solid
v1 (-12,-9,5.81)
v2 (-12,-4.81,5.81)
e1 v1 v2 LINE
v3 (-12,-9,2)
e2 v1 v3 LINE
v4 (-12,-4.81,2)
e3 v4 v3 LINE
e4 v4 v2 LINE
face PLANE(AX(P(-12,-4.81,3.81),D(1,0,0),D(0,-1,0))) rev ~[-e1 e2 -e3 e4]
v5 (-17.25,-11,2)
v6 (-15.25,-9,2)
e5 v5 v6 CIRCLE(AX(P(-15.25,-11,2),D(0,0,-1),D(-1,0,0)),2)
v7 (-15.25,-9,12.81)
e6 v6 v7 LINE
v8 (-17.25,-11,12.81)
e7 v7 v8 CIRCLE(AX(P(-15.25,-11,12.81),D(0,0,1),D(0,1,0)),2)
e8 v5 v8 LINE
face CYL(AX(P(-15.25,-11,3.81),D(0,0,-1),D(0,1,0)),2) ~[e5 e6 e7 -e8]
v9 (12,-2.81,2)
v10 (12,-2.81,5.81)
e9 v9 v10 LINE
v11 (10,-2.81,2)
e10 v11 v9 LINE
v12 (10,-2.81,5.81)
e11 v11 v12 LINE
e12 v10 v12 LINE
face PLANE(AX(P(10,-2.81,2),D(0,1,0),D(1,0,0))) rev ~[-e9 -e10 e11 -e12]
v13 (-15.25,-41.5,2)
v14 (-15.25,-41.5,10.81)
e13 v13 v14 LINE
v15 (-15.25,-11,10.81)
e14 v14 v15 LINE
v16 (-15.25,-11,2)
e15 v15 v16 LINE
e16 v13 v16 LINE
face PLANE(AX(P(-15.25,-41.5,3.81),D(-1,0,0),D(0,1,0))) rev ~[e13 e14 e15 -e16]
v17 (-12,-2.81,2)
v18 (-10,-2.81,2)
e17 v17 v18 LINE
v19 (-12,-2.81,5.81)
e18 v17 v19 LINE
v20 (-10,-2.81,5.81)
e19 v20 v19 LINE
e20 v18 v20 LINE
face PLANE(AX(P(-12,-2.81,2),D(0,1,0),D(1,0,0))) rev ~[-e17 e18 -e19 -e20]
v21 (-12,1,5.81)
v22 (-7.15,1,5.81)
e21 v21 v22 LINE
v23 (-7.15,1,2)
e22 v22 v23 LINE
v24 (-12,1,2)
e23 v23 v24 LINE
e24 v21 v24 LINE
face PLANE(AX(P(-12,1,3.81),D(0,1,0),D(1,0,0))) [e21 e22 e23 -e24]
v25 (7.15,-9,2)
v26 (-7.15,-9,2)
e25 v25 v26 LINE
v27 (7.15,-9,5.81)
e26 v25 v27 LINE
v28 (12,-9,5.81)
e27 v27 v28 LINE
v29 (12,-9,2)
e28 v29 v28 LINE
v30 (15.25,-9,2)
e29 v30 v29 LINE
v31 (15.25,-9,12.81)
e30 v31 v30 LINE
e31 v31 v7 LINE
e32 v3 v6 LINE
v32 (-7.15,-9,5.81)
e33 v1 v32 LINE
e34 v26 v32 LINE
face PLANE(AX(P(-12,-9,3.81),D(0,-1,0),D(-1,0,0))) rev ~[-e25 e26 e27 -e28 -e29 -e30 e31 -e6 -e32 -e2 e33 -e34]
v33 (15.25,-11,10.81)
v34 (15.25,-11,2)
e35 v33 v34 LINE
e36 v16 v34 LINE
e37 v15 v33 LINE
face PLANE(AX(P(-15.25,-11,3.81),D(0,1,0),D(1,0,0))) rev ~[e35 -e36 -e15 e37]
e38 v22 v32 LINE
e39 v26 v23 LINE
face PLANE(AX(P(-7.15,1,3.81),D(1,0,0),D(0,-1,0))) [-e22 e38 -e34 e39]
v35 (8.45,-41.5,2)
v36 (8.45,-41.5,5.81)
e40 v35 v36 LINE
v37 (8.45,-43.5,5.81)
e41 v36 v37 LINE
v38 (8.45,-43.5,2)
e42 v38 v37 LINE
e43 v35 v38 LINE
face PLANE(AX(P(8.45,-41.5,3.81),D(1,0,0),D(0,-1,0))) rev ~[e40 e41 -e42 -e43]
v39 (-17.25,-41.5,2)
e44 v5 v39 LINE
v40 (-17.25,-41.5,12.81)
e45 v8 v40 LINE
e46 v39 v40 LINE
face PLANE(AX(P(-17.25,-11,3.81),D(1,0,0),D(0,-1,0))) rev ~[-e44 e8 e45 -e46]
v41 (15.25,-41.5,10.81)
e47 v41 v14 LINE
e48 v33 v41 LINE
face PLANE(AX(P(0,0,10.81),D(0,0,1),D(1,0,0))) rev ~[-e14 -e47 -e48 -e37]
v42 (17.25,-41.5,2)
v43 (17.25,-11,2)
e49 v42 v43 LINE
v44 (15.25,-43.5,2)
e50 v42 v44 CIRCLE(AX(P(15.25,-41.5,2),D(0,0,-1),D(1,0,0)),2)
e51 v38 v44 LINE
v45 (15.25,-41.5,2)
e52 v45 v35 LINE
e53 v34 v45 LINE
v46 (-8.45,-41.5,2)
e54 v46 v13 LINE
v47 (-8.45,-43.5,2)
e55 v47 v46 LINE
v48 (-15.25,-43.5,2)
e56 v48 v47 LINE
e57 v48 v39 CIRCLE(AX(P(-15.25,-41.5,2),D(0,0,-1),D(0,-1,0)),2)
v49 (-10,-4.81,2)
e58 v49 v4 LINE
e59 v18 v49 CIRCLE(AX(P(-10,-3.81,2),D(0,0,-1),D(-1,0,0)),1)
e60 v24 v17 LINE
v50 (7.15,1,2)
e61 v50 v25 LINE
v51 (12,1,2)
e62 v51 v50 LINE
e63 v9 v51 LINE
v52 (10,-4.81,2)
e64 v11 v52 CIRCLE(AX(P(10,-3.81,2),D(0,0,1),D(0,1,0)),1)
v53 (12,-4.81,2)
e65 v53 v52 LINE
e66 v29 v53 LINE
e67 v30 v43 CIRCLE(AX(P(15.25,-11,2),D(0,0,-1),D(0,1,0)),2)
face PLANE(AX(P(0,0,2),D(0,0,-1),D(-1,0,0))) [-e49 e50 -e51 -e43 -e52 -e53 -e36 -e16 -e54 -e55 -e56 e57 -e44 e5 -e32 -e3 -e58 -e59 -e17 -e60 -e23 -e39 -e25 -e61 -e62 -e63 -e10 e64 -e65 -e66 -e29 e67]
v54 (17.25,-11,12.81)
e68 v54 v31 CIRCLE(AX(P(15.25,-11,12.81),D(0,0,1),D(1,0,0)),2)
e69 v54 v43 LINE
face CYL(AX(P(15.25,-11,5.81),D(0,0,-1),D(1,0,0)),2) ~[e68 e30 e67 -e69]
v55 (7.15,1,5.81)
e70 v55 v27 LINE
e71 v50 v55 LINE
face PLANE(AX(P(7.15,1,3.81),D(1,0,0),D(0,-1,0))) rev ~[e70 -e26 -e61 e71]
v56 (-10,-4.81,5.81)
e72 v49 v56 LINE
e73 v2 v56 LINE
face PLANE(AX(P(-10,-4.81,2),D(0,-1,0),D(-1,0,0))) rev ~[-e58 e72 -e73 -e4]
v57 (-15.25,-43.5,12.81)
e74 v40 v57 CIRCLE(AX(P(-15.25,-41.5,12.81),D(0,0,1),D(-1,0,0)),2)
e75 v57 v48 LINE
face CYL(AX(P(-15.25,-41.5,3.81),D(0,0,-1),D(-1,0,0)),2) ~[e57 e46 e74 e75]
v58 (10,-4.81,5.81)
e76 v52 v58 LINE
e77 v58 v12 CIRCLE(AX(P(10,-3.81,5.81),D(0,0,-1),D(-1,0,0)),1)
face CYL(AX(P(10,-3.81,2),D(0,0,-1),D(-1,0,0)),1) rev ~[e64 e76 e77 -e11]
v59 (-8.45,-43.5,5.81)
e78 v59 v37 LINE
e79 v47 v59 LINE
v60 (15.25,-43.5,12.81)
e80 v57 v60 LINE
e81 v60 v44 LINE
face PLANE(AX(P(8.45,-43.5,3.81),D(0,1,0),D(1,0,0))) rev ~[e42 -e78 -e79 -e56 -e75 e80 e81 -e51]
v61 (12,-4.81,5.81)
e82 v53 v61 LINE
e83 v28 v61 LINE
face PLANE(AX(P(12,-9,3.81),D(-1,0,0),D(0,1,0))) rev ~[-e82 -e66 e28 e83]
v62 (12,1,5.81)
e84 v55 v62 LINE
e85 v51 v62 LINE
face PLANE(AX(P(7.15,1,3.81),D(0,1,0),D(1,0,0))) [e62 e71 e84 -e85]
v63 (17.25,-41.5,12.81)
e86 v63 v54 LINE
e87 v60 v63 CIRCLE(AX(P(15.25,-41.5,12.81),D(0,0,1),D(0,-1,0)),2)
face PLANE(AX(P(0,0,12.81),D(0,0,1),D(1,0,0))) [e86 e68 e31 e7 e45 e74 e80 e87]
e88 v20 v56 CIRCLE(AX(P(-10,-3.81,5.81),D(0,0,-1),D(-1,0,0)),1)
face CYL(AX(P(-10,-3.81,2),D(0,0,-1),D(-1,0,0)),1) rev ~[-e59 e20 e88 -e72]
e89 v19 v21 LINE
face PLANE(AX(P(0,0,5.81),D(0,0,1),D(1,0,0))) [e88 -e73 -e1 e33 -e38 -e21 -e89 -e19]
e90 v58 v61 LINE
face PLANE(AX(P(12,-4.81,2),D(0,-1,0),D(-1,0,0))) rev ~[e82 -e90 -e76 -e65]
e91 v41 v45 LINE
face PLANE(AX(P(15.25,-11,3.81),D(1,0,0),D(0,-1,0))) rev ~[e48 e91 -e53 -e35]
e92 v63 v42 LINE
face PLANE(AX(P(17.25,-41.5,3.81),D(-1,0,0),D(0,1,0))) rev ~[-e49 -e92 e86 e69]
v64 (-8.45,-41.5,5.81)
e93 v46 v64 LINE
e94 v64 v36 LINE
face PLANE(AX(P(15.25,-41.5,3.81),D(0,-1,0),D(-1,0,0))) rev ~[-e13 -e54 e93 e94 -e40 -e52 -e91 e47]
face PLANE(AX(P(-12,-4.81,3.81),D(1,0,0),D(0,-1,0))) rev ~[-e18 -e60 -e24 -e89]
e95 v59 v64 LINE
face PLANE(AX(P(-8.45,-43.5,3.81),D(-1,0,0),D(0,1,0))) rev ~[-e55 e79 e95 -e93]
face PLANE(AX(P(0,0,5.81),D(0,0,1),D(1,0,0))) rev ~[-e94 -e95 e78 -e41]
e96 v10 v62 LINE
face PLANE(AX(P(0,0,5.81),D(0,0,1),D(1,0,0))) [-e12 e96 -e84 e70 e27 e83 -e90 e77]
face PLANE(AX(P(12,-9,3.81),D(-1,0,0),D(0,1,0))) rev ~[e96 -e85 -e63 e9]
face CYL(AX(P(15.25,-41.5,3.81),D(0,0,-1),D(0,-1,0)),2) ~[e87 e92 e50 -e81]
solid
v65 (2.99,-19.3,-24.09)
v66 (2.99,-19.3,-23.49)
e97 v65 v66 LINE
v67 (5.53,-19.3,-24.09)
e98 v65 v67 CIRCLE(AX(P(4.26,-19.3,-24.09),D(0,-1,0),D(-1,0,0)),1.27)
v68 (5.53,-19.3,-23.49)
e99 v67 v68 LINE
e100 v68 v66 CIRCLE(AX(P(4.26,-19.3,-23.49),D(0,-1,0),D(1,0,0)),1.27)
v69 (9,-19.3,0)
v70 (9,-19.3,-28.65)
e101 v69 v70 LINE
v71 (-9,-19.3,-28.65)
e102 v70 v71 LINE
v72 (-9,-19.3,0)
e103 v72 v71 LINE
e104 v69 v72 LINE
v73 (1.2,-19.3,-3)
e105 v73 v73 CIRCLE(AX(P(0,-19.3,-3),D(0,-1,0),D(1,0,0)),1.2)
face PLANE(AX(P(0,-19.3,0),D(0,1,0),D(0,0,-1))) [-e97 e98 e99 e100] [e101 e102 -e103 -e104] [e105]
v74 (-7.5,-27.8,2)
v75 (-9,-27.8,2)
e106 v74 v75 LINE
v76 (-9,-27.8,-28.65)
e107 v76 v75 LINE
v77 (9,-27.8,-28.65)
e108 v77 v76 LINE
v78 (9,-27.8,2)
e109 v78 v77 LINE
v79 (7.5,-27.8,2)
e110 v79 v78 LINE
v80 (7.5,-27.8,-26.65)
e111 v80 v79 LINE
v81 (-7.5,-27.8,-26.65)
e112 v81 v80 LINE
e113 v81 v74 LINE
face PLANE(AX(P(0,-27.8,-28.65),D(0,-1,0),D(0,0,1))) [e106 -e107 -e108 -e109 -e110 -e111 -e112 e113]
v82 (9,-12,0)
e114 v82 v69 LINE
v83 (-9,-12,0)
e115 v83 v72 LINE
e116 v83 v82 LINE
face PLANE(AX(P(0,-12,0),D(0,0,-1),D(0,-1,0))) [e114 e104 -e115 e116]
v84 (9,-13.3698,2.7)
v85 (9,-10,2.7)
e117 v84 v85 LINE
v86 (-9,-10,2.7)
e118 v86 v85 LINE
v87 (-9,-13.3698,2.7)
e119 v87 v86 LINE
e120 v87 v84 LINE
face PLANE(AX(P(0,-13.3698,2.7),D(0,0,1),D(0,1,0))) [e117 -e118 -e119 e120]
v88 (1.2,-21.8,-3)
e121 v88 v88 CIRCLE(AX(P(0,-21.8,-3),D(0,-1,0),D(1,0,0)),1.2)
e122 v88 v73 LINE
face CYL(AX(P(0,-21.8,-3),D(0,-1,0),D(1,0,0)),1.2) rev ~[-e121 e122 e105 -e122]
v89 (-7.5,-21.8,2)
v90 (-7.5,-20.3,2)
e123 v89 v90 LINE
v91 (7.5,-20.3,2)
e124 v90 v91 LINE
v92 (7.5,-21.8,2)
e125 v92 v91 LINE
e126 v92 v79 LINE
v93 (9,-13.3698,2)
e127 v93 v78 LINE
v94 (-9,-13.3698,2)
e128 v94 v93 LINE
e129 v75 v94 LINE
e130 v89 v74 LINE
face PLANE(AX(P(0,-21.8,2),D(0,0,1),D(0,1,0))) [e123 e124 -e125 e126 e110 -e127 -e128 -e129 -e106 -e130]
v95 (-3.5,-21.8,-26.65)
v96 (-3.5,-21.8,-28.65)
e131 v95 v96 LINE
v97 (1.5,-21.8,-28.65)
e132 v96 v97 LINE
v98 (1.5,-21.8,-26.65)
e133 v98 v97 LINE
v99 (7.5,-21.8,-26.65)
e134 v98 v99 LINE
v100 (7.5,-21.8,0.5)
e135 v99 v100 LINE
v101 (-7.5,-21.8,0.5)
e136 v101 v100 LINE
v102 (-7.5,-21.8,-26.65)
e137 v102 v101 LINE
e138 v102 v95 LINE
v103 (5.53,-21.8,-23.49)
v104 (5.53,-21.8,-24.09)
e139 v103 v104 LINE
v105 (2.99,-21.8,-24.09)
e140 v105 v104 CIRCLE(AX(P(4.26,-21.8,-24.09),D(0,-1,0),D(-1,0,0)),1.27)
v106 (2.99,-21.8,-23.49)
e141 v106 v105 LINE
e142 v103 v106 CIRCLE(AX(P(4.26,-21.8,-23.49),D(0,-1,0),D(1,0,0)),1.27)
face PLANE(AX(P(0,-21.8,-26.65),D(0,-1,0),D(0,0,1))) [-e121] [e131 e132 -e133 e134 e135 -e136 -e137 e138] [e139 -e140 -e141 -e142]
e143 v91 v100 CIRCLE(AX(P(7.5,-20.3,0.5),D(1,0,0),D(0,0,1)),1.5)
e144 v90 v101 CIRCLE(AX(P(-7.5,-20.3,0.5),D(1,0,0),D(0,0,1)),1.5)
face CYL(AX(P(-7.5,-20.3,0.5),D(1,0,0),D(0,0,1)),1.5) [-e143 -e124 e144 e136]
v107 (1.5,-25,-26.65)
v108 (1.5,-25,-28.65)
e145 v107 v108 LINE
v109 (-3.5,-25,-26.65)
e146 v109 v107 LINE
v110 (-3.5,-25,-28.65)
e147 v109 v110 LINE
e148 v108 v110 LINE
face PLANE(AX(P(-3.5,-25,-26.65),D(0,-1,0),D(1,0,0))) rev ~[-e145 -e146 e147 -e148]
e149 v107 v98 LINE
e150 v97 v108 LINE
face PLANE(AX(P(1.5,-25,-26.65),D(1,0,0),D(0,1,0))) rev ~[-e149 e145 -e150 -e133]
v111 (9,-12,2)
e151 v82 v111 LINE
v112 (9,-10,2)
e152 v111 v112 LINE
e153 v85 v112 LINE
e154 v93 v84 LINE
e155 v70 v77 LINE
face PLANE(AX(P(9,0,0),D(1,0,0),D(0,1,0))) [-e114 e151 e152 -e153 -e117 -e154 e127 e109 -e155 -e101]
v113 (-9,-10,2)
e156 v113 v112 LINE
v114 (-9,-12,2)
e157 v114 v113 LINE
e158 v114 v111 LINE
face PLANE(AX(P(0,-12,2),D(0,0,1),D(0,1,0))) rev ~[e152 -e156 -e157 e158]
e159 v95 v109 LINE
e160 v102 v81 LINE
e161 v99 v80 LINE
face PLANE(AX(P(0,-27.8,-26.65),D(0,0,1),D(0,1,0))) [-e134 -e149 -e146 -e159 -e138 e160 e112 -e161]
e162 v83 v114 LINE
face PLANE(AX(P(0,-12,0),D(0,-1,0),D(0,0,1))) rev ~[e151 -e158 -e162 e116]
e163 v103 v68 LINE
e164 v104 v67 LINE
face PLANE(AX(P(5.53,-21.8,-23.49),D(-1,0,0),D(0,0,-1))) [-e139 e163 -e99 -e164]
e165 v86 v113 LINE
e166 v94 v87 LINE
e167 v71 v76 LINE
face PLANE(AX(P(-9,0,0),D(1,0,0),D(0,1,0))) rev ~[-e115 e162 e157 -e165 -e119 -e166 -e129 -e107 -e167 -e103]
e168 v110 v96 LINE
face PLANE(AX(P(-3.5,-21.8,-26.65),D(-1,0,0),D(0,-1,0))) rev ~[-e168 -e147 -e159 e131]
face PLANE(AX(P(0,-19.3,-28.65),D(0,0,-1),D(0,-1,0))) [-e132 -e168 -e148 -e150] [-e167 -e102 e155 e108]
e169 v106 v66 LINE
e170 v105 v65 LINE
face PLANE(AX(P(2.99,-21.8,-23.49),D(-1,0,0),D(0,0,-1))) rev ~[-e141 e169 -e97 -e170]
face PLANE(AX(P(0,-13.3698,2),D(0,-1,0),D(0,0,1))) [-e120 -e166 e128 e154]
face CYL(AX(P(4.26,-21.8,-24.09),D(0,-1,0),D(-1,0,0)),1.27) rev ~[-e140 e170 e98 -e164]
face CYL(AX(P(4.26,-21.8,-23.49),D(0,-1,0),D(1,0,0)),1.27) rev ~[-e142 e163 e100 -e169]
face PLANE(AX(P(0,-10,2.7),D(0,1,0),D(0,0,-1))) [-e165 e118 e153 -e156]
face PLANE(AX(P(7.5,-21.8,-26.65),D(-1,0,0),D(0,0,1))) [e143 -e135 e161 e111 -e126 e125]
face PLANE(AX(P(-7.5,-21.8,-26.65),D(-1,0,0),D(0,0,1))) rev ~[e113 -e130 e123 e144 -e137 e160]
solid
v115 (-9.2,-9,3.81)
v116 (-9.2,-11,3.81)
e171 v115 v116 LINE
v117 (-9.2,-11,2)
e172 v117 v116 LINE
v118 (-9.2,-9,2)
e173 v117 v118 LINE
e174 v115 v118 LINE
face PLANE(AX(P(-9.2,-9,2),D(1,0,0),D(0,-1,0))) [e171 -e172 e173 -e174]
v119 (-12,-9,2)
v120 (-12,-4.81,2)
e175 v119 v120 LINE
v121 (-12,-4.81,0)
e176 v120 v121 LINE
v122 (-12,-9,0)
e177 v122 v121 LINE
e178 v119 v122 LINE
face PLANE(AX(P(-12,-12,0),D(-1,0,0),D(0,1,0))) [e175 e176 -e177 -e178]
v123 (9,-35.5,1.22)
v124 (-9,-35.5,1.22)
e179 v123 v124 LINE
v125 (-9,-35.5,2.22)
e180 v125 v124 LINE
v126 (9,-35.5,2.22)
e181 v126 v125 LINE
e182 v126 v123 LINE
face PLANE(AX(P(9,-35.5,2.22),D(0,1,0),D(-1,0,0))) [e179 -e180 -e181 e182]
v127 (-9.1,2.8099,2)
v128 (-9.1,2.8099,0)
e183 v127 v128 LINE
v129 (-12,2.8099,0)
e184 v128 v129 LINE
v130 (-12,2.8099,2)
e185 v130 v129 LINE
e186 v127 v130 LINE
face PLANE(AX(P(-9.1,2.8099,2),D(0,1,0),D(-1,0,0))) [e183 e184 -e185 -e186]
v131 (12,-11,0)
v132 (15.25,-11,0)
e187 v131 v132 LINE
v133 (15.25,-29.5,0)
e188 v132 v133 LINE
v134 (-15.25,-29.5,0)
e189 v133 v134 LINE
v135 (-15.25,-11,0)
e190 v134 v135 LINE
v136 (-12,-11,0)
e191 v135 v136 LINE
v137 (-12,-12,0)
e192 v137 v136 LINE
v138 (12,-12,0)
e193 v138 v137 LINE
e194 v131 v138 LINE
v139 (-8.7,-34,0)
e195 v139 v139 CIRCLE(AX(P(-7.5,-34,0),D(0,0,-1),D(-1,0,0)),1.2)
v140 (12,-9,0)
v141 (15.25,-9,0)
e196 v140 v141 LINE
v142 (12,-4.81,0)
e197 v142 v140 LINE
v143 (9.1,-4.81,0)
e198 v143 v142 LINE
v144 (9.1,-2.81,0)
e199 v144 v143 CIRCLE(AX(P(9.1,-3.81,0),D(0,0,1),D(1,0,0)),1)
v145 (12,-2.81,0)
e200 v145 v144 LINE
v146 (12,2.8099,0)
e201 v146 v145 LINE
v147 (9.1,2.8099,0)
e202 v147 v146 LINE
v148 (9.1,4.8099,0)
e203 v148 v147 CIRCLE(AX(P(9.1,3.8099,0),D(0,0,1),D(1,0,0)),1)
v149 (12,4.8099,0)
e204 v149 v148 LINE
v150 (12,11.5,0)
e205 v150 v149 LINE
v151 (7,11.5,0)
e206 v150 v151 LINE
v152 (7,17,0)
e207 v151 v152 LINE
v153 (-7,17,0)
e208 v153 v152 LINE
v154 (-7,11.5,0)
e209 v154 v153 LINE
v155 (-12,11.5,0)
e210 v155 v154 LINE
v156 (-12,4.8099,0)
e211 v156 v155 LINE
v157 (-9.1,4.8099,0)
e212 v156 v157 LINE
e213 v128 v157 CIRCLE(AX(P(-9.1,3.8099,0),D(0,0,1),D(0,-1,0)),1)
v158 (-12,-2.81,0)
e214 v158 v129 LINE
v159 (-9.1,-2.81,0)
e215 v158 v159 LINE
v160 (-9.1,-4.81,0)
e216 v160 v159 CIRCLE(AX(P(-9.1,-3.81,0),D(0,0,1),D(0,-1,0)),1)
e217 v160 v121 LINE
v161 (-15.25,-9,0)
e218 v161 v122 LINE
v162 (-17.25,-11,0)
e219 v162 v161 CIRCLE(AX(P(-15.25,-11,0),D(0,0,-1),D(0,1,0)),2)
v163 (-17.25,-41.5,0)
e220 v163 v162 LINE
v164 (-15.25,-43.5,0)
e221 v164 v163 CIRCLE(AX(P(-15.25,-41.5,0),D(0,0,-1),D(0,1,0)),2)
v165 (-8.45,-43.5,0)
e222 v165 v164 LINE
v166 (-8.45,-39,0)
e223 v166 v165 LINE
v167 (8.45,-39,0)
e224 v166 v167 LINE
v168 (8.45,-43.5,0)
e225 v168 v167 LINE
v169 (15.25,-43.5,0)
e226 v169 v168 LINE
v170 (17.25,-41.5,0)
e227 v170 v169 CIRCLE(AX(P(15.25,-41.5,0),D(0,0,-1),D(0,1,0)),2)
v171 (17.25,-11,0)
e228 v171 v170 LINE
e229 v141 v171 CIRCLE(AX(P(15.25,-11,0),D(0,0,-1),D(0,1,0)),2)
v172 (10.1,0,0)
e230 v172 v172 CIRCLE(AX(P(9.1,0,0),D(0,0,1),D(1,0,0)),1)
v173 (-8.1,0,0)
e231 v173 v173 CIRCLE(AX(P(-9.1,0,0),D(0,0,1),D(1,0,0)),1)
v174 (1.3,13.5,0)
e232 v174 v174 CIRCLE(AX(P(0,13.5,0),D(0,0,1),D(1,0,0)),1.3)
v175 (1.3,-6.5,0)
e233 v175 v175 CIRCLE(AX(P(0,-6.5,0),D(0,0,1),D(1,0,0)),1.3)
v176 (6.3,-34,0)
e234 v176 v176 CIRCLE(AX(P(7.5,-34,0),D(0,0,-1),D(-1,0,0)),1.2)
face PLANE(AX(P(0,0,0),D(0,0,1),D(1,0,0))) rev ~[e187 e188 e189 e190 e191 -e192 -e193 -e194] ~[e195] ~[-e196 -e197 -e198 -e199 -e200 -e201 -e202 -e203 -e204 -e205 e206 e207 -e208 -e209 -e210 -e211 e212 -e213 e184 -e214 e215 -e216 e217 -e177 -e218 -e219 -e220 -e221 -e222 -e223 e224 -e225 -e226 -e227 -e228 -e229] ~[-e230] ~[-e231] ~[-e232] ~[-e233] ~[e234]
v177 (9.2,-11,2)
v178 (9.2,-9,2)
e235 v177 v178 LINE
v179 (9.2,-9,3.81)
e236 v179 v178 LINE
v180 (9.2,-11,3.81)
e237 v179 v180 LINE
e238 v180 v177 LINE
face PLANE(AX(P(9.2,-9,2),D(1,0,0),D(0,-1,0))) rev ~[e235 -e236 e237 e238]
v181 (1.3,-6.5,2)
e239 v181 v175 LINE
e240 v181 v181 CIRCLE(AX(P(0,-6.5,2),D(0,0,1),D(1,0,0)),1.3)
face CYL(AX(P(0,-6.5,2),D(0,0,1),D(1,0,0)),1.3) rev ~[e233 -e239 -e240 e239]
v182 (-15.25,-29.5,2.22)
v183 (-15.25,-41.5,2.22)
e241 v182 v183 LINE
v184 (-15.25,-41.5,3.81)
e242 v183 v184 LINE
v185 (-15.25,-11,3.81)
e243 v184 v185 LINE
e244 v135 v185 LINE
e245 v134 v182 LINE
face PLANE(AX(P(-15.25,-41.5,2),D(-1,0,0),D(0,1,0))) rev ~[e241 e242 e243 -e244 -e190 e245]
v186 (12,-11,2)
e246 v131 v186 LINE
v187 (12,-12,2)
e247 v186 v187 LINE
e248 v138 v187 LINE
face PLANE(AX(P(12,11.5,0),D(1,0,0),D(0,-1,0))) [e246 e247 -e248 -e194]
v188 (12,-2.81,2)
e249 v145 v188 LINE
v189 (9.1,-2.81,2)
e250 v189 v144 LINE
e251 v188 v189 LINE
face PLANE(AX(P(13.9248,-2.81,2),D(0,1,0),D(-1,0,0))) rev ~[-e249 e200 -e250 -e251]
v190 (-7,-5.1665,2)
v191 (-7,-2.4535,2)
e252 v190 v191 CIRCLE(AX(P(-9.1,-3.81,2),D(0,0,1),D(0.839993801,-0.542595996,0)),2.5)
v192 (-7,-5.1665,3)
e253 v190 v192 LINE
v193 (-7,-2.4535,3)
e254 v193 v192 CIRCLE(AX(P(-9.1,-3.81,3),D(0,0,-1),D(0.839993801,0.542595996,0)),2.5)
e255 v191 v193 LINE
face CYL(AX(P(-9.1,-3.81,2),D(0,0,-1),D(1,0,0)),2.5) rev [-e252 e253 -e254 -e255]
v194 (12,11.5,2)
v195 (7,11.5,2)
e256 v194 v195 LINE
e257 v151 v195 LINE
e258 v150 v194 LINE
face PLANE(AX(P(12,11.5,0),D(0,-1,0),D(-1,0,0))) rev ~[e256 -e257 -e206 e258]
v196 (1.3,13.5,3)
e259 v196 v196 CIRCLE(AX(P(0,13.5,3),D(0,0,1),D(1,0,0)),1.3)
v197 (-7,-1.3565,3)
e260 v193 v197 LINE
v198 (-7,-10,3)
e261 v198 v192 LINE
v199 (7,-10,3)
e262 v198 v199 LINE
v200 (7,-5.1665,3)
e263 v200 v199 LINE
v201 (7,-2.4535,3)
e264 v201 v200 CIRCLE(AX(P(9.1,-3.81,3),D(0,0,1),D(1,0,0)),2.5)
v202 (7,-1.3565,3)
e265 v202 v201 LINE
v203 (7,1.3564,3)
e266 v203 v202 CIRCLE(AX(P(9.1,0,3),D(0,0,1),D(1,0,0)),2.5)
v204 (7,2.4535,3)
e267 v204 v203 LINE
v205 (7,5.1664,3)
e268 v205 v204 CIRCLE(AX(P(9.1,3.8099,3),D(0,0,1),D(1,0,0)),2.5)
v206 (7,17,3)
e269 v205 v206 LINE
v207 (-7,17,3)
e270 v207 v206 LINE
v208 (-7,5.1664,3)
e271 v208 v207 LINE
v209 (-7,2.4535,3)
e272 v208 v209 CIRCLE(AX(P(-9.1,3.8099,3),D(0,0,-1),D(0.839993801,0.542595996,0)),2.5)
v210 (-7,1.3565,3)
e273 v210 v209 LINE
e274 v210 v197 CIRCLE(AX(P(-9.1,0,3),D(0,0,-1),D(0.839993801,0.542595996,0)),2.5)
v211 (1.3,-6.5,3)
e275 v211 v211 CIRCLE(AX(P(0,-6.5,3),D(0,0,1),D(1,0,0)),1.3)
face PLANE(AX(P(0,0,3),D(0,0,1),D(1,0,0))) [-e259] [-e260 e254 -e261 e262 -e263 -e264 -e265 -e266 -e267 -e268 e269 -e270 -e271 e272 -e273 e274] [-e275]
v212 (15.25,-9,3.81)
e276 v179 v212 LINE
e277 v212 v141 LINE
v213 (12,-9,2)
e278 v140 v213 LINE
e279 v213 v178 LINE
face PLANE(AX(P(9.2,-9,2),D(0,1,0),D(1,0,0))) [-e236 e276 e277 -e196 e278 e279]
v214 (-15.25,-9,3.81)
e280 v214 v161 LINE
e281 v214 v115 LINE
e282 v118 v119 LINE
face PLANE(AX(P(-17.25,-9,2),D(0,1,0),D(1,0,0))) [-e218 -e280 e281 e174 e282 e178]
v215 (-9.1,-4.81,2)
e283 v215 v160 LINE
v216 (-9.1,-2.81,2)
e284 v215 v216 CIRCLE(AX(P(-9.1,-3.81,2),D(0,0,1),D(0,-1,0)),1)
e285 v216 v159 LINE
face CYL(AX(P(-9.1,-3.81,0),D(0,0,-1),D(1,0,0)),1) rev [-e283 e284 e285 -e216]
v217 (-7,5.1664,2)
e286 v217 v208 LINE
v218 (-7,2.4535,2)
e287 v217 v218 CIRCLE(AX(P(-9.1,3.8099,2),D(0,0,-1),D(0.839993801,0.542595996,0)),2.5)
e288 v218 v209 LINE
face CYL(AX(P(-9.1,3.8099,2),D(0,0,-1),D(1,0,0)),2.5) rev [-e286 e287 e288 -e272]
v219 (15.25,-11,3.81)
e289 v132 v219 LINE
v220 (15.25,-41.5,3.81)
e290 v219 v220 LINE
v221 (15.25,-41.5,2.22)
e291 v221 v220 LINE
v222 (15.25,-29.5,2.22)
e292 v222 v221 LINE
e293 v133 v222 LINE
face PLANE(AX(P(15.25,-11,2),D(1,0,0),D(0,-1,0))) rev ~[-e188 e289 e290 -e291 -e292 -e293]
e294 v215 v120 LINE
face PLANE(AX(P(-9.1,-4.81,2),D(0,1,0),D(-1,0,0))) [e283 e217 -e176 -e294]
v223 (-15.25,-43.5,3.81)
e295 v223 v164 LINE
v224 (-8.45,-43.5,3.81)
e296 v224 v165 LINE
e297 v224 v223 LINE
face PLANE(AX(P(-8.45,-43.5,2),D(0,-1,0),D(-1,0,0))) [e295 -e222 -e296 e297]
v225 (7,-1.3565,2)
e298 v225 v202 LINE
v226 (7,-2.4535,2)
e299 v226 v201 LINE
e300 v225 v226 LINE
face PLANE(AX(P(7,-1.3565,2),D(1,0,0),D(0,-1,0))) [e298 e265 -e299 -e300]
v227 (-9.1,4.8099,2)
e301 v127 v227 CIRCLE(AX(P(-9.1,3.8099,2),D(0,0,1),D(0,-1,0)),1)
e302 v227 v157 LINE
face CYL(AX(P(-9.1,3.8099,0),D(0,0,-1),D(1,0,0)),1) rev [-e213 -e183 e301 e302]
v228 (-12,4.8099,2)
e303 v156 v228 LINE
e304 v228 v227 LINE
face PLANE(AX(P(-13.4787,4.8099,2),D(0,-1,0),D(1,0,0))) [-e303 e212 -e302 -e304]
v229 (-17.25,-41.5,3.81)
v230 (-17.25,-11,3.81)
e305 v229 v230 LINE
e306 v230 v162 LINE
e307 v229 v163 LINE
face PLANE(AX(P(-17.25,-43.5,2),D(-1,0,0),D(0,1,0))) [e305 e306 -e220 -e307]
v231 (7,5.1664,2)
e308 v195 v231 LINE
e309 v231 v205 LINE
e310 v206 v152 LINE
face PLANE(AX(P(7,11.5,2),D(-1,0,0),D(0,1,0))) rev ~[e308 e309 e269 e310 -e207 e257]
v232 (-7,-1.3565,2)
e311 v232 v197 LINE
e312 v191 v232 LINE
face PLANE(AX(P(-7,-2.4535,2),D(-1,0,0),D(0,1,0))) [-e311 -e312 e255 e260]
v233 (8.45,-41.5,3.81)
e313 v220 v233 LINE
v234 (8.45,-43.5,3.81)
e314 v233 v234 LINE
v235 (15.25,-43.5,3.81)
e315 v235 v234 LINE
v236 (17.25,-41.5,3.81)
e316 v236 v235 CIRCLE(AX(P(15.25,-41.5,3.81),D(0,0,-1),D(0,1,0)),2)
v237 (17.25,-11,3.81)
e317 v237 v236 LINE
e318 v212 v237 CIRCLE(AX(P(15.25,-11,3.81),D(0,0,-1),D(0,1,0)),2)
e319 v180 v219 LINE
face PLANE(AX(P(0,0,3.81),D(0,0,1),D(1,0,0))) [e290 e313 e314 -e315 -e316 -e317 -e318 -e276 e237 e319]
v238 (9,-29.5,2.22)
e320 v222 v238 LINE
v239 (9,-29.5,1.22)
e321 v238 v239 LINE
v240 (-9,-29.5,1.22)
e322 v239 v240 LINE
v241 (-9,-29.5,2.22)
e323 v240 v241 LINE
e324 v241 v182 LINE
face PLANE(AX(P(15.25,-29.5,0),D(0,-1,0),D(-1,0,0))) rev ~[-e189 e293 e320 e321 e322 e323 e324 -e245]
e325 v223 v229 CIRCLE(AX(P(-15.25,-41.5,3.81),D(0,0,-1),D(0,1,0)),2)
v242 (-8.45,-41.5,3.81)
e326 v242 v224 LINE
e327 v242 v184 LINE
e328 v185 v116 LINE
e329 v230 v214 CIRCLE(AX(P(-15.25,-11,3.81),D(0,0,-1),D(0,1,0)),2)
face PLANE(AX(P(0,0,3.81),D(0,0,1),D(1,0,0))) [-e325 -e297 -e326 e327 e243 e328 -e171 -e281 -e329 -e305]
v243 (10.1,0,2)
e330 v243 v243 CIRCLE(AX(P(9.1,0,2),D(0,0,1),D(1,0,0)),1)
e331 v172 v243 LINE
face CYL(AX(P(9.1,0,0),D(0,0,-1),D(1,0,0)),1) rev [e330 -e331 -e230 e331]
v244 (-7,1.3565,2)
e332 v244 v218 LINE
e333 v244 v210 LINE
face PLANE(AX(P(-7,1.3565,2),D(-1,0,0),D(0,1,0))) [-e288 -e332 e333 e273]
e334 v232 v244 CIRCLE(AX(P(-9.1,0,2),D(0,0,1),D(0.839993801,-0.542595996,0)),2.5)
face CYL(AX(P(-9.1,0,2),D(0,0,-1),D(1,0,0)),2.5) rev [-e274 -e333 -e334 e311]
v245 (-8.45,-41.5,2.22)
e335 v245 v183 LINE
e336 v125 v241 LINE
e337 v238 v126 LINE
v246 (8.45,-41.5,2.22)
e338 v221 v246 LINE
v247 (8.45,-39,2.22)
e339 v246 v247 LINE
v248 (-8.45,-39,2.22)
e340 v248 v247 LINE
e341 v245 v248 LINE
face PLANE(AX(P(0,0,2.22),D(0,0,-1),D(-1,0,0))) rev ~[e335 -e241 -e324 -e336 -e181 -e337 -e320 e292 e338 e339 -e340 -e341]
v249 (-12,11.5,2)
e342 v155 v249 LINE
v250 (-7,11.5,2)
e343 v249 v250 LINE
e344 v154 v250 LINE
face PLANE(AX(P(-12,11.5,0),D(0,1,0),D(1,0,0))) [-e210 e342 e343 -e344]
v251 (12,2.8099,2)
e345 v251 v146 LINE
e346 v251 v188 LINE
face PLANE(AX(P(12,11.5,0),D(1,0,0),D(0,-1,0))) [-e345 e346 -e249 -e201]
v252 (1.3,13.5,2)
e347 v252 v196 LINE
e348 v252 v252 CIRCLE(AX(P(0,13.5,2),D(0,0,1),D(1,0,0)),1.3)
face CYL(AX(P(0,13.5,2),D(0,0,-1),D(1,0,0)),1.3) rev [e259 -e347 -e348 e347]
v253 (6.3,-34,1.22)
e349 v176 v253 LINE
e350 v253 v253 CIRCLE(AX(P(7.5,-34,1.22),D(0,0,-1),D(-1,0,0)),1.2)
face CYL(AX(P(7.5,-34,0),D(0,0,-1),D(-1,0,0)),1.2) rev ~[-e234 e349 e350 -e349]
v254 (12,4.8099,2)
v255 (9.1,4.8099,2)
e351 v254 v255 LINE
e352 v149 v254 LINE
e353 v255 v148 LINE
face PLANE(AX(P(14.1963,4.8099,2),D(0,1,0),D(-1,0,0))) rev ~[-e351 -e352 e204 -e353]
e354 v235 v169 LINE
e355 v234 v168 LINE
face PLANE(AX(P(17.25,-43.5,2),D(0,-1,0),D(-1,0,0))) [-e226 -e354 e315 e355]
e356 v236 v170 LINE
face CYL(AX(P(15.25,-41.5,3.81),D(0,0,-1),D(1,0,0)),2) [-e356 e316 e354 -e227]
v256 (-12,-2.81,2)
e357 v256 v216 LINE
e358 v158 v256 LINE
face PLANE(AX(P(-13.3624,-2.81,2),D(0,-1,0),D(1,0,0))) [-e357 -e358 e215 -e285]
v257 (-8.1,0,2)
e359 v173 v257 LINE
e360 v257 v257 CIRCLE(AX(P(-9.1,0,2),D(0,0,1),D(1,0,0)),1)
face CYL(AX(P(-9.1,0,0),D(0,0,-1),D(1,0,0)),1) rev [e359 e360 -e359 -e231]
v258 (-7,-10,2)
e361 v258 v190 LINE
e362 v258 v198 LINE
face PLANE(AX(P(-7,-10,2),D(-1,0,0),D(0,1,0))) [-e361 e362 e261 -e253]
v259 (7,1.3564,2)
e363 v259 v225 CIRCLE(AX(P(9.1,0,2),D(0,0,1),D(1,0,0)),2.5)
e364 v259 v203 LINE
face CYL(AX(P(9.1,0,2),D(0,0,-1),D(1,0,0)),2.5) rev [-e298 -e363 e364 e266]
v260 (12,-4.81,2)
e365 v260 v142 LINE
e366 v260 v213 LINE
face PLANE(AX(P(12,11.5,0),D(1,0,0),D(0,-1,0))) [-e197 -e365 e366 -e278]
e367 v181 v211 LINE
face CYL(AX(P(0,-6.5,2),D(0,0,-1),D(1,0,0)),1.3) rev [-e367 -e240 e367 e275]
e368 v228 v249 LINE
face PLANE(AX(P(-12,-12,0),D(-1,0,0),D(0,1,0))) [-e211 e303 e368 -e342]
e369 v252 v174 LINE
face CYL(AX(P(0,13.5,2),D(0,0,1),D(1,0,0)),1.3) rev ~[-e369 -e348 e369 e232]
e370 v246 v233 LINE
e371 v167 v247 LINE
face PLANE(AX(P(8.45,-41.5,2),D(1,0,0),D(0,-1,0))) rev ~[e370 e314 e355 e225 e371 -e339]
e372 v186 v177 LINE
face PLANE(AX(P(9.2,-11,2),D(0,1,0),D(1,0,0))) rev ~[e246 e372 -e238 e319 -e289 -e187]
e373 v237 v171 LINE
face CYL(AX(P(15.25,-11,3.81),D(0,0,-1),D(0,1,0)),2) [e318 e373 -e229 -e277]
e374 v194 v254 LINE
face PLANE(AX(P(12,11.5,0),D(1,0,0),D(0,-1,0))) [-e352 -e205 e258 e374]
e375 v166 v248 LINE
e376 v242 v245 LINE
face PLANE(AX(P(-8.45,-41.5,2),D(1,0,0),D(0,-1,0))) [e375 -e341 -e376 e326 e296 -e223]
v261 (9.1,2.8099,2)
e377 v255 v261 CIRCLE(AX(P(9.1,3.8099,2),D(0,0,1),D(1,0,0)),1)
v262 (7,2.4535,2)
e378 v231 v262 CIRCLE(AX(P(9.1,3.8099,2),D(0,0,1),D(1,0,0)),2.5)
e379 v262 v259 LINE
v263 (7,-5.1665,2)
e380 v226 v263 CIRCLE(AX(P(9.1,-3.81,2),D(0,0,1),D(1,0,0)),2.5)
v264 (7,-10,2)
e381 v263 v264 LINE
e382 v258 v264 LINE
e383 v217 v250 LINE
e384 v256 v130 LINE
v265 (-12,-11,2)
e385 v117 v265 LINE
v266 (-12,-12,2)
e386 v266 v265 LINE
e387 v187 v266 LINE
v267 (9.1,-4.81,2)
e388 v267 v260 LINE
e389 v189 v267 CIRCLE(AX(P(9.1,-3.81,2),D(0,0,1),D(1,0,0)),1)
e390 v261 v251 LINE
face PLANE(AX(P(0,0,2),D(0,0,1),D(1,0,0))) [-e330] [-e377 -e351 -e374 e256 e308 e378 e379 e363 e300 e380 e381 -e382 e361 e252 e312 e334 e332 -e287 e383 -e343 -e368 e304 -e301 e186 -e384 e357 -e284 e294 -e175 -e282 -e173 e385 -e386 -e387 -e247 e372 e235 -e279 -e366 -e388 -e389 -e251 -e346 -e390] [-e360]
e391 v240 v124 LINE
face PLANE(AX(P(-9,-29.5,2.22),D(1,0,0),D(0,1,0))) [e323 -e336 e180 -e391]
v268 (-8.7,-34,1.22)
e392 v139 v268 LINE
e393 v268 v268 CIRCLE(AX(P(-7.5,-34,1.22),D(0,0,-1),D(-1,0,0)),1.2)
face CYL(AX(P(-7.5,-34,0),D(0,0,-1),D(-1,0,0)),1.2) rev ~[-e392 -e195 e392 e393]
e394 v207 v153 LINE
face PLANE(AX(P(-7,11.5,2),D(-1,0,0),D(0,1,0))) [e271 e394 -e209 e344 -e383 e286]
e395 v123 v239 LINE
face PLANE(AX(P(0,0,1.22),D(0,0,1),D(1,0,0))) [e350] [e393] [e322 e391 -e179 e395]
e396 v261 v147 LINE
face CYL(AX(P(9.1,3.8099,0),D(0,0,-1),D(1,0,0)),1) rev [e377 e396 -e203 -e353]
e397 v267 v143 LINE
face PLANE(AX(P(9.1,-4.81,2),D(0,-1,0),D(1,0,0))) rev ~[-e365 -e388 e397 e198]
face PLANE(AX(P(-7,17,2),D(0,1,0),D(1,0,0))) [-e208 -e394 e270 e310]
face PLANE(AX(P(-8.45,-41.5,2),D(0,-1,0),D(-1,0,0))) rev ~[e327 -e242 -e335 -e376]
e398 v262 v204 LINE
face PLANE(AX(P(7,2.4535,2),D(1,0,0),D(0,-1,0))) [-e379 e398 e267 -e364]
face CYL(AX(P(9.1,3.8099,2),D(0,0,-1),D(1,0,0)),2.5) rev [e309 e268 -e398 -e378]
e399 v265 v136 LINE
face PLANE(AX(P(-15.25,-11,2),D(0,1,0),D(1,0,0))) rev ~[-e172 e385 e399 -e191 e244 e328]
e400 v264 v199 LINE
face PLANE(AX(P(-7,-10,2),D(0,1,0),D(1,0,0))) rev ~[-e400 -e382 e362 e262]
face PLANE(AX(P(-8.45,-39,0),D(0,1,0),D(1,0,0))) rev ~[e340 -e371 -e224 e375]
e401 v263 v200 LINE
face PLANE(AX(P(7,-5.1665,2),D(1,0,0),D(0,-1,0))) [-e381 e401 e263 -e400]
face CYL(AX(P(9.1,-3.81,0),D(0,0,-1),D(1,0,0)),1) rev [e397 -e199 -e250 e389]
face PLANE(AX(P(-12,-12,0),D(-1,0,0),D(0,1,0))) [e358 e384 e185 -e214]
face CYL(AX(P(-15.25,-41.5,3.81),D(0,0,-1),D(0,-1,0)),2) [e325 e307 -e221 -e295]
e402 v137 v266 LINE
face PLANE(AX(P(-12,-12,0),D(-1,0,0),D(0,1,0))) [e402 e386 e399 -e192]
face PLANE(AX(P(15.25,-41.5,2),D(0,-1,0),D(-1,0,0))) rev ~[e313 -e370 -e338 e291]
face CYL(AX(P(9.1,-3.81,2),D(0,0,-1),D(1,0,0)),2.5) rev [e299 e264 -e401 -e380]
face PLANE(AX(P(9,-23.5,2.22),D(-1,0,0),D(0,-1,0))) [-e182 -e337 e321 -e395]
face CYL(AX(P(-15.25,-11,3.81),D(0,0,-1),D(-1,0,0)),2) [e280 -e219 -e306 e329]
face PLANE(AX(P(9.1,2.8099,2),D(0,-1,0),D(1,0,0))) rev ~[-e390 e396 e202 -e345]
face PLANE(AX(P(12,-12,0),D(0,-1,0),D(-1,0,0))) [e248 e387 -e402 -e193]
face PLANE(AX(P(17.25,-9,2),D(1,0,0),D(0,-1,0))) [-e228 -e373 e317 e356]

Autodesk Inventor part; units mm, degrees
ref_plane "YZ Plane" through (0, 0, 0) normal (1, 0, 0) x (0, 1, 0)
ref_plane "XZ Plane" through (0, 0, 0) normal (0, 1, 0) x (-1, 0, 0)
ref_plane "XY Plane" through (0, 0, 0) normal (0, 0, 1) x (1, 0, 0)
sketch "Sketch1" plane through (0, 0, 0) normal (0, 0, 1) x (1, 0, 0)
  circle A0 centre (0, 0) radius 2.3
  line L0 (-9.1, -9.1) -> (9.1, 9.1) construction
  line L1 (9.1, -9.1) -> (-9.1, 9.1) construction
  circle A1 centre (9.1, 0) radius 1
  circle A2 centre (-9.1, 0) radius 1
  circle A3 centre (9.1, 3.8099) radius 1
  circle A4 centre (9.1, -3.81) radius 1
  circle A5 centre (-9.1, 3.8099) radius 1
  circle A6 centre (-9.1, -3.81) radius 1
  line L2 (-7, 17) -> (7, 17)
  line L3 (12, 11.5) -> (12, -12)
  line L4 (12, -12) -> (-12, -12)
  line L5 (-12, -12) -> (-12, 11.5)
  line L6 (-4.81, 9.1) -> (-9.1, 9.1)
  line L7 (9.1, 9.1) -> (4.81, 9.1)
  line L8 (9.1, 4.8099) -> (9.1, 9.1)
  line L9 (9.1, 1) -> (9.1, 2.8099)
  line L10 (9.1, -9.1) -> (9.1, -4.81)
  line L11 (9.1, -2.81) -> (9.1, -1)
  line L12 (4.81, -9.1) -> (9.1, -9.1)
  line L13 (-9.1, -9.1) -> (-4.81, -9.1)
  line L14 (-9.1, -4.81) -> (-9.1, -9.1)
  line L15 (-9.1, -1) -> (-9.1, -2.81)
  line L16 (-9.1, 9.1) -> (-9.1, 4.8099)
  line L17 (-9.1, 2.8099) -> (-9.1, 1)
  line L18 (4.81, 9.1) -> (-4.81, 9.1)
  line L19 (-4.81, -9.1) -> (4.81, -9.1)
  line L20 (-12, 11.5) -> (-7, 11.5)
  line L21 (-7, 11.5) -> (-7, 17)
  line L22 (12, 11.5) -> (7, 11.5)
  line L23 (7, 11.5) -> (7, 17)
  dimension "d0" = 18.2
  dimension "d1" = 18.2
  dimension "d6" = 2
  dimension "d7" = 2
  dimension "d10" = 4.6
  dimension "d11" = 2
  dimension "d12" = 2
  dimension "d15" = 2
  dimension "d16" = 2
  dimension "d17" = 3.8099
  dimension "d18" = 3.81
  dimension "d19" = 24
  dimension "d127" = 2.9
  dimension "d128" = 2.9
  dimension "d129" = 29
  dimension "d140" = 5
  dimension "d141" = 5
  dimension "d142" = 5.5
extrude "Extrusion1" add sketch "Sketch1" along normal blind 2 contours A0 | A1 L11 A4 L10 L12 L19 L13 L14 A6 L15 A2 L17 A5 L16 L6 L18 L7 L8 A3 L9 | L2 L23 L22 L3 L4 L5 L20 L21
sketch "Sketch6" plane through (0, 0, 2) normal (0, 0, 1) x (1, 0, 0)
  circle A0 centre (-9.1, -3.81) radius 1 projected
  line L0 (-9.1, -4.81) -> (-13.3624, -4.81)
  line L1 (-13.3624, -4.81) -> (-13.3624, -2.81)
  line L2 (-13.3624, -2.81) -> (-9.1, -2.81)
  line L3 (-9.1, -2.81) -> (-9.1, -4.81)
  circle A1 centre (-9.1, 3.8099) radius 1 projected
  line L4 (-9.1, 2.8099) -> (-13.4787, 2.8099)
  line L5 (-13.4787, 2.8099) -> (-13.4787, 4.8099)
  line L6 (-13.4787, 4.8099) -> (-9.1, 4.8099)
  line L7 (-9.1, 4.8099) -> (-9.1, 2.8099)
  circle A2 centre (9.1, -3.81) radius 1 projected
  line L8 (9.1, -4.81) -> (13.9248, -4.81)
  line L9 (13.9248, -4.81) -> (13.9248, -2.81)
  line L10 (13.9248, -2.81) -> (9.1, -2.81)
  line L11 (9.1, -2.81) -> (9.1, -4.81)
  line L12 (9.1, 2.8099) -> (14.1963, 2.8099)
  line L13 (14.1963, 2.8099) -> (14.1963, 4.8099)
  line L14 (14.1963, 4.8099) -> (9.1, 4.8099)
  line L15 (9.1, 4.8099) -> (9.1, 2.8099)
  point P0 (0, 0)
extrude "Extrusion5" cut sketch "Sketch6" against normal blind 40 contours L3 A0 | A0 L0 L1 L2 | L7 A1 | A1 L4 L5 L6 | A2 L11 | A2 L10 L9 L8 | L15 L14 L13 L12 picked at (-9.4117, -3.6918) picked at (-9.4117, 3.9281) picked at (9.1742, -3.485)
sketch "Sketch8" plane through (0, 0, 0) normal (1, 0, 0) x (0, 1, 0)
  line L0 (-12, 0) -> (-19.3, 0)
  line L1 (-19.3, 0) -> (-19.3, -28.65)
  line L2 (-19.3, -28.65) -> (-27.8, -28.65)
  line L3 (-27.8, -28.65) -> (-27.8, -26.65)
  line L4 (-27.8, -26.65) -> (-21.8, -26.65)
  line L5 (-21.8, -26.65) -> (-21.8, 2)
  line L6 (-21.8, 2) -> (-12, 2)
  line L7 (-12, 0) -> (-12, 2) projected
  line L8 (-12, 0) -> (-12, 2)
  line L9 (-13.3698, 2) -> (-13.3698, 2.7)
  line L10 (-13.3698, 2.7) -> (-10, 2.7)
  line L11 (-10, 2.7) -> (-10, 2)
  line L12 (-12, 2) -> (-10, 2)
  point P0 (0, 0)
  dimension "d49" = 2.5
  dimension "d50" = 7.3
  dimension "d51" = 28.65
  dimension "d52" = 2
  dimension "d53" = 2
  dimension "d54" = 0.7
  dimension "d57" = 6
extrude "Extrusion7" add sketch "Sketch8" along normal mid plane 18 separate body
sketch "Sketch9" plane through (-9, -21.8, -26.65) normal (0, -1, 0) x (1, 0, 0)
  line L0 (0, 0) -> (1.5, 0)
  line L1 (1.5, 0) -> (1.5, 28.65)
  line L2 (1.5, 28.65) -> (0, 28.65)
  line L3 (0, 28.65) -> (0, 0)
  line L4 (0, 0) -> (18, 0) projected
  line L5 (18, 0) -> (16.5, 0)
  line L6 (16.5, 0) -> (16.5, 28.65)
  line L7 (16.5, 28.65) -> (18, 28.65)
  line L8 (18, 28.65) -> (18, 0)
  line L9 (8, 28.65) -> (10, 28.65) projected
  line L10 (9, 28.65) -> (9, -2)
  line L11 (0, -2) -> (18, -2) projected
  line L12 (0, 28.65) -> (18, 28.65) projected
  point P0 (9, 26.65)
  dimension "d58" = 15
extrude "Extrusion8" add sketch "Sketch9" along normal blind 6 contours L3 L2 L1 L0 | L6 L7 L8 L4 bodies 2
sketch "Sketch10" plane through (-7.5, -29.8, -26.65) normal (0, 0, 1) x (1, 0, 0)
  line L0 (4, 4.8) -> (9, 4.8)
  line L1 (9, 4.8) -> (9, 8)
  line L2 (9, 8) -> (4, 8)
  line L3 (4, 8) -> (4, 4.8)
  line L4 (0, 8) -> (0, 2) projected
  line L5 (0, 8) -> (15, 8) projected
  point P0 (7.5, 29.8)
  point P1 (-2.5, 8)
  point P2 (17.5, 8)
  dimension "d63" = 4
  dimension "d64" = 5
  dimension "d65" = 3.2
extrude "Extrusion9" cut sketch "Sketch10" against normal blind 8 bodies 2
sketch "Sketch11" plane through (-7.5, -21.8, 2) normal (0, -1, 0) x (1, 0, 0)
  line L0 (0, -28.65) -> (0, 0) projected
  line L1 (0, -28.65) -> (15, -28.65) projected
  circle A0 centre (7.5, -5) radius 1.2
  line L2 (16.5, -2) -> (-1.5, -2) projected
  arc A1 (13.03, -25.49) -> (10.49, -25.49) centre (11.76, -25.49) ccw
  arc A2 (10.49, -26.09) -> (13.03, -26.09) centre (11.76, -26.09) ccw
  line L3 (10.49, -25.49) -> (10.49, -26.09)
  line L4 (13.03, -25.49) -> (13.03, -26.09)
  point P0 (7.5, -2)
  dimension "d74" = 2.4
  dimension "d75" = 3
  dimension "d119" = 2.54
  dimension "d120" = 2.54
  dimension "d123" = 11.76
  dimension "d124" = 3.16
  dimension "d125" = 0.6
extrude "Extrusion10" cut sketch "Sketch11" against normal blind 8 bodies 2
fillet "Fillet1" radius 1.5 1 edges at (0, -21.8, 2)
sketch "Sketch12" plane through (0, 0, 2) normal (0, 0, 1) x (1, 0, 0)
  line L0 (15.25, -11) -> (15.25, -41.5)
  line L1 (-15.25, -41.5) -> (-15.25, -11)
  line L2 (-15.25, -11) -> (15.25, -41.5) construction
  line L3 (15.25, -11) -> (-15.25, -41.5) construction
  line L4 (-12, -12) -> (12, -12) projected
  line L5 (17.25, -9) -> (17.25, -43.5)
  line L6 (-17.25, -43.5) -> (-17.25, -9)
  line L7 (-8.45, -41.5) -> (-8.45, -43.5)
  line L8 (8.45, -41.5) -> (8.45, -43.5)
  line L9 (17.25, -43.5) -> (8.45, -43.5)
  line L10 (-8.45, -43.5) -> (-17.25, -43.5)
  line L11 (15.25, -41.5) -> (8.45, -41.5)
  line L12 (-8.45, -41.5) -> (-15.25, -41.5)
  line L13 (-9.2, -9) -> (-9.2, -11)
  line L14 (9.2, -9) -> (9.2, -11)
  line L15 (-9, -13.3698) -> (-9, -10) projected
  line L16 (9, -10) -> (9, -13.3698) projected
  line L17 (-17.25, -9) -> (-9.2, -9)
  line L18 (9.2, -9) -> (17.25, -9)
  line L19 (-15.25, -11) -> (-9.2, -11)
  line L20 (9.2, -11) -> (15.25, -11)
  point P0 (0, 0)
  point P1 (0, -26.25)
  dimension "d76" = 30.5
  dimension "d79" = 2
  dimension "d80" = 6.8
  dimension "d81" = 6.8
  dimension "d88" = 0.2
  dimension "d89" = 0.2
extrude "Extrusion11" add sketch "Sketch12" along normal blind 1.81 and the other way blind 2 bodies 1
sketch "Sketch13" plane through (0, 0, 0) normal (0, 0, -1) x (-1, 0, 0)
  line L0 (-15.25, -41.5) -> (-8.45, -41.5) projected
  line L1 (-15.25, -41.5) -> (-8.45, -41.5)
  line L2 (-8.45, -41.5) -> (-8.45, -39)
  line L3 (-8.45, -39) -> (-15.25, -39)
  line L4 (-15.25, -39) -> (-15.25, -41.5)
  line L5 (8.45, -41.5) -> (15.25, -41.5) projected
  line L6 (15.25, -41.5) -> (8.45, -41.5)
  line L7 (8.45, -41.5) -> (8.45, -39)
  line L8 (8.45, -39) -> (15.25, -39)
  line L9 (15.25, -39) -> (15.25, -41.5)
  line L10 (-15.25, -11) -> (-15.25, -41.5) projected
  line L11 (-15.25, -29.5) -> (15.25, -29.5)
  line L12 (15.25, -29.5) -> (15.25, -39)
  line L13 (15.25, -39) -> (-15.25, -39)
  line L14 (-15.25, -39) -> (-15.25, -29.5)
  point P0 (0, 0)
  dimension "d84" = 2.5
  dimension "d85" = 6.8
  dimension "d92" = 2.5
  dimension "d93" = 12
extrude "Extrusion12" add sketch "Sketch13" against normal blind 2.22 bodies 1
sketch "Sketch15" plane through (0, 0, 2.22) normal (0, 0, 1) x (1, 0, 0)
  line L0 (-9, -23.5) -> (9, -23.5)
  line L1 (9, -23.5) -> (9, -35.5)
  line L2 (9, -35.5) -> (-9, -35.5)
  line L3 (-9, -35.5) -> (-9, -23.5)
  line L4 (15.25, -29.5) -> (-15.25, -29.5) projected
  line L5 (-9, -23.5) -> (9, -35.5) construction
  line L6 (9, -23.5) -> (-9, -35.5) construction
  line L7 (15.25, -41.5) -> (8.45, -41.5) projected
  point P0 (0, 0)
  point P1 (0, -29.5)
  dimension "d94" = 18
  dimension "d95" = 6
extrude "Extrusion13" cut sketch "Sketch15" against normal blind 1 bodies 1
sketch "Sketch17" plane through (0, 0, 0) normal (0, 0, -1) x (-1, 0, 0)
  circle A0 centre (-7.5, -34) radius 1.2
  circle A1 centre (7.5, -34) radius 1.2
  line L0 (-8.45, -39) -> (8.45, -39) projected
  line L1 (15.25, -29.5) -> (-15.25, -29.5) projected
  line L2 (8.45, -39) -> (-8.45, -39) construction
  line L3 (0, -39) -> (0, -29.5) construction
  point P0 (0, 0)
  dimension "d115" = 2.4
  dimension "d151" = 7.5
  dimension "d152" = 7.5
  dimension "d153" = 5
  dimension "d154" = 5
extrude "Extrusion15" cut sketch "Sketch17" against normal blind 12 bodies 1
fillet "Fillet2" radius 2 4 edges at (-17.25, -43.5, 1.905) (17.25, -43.5, 1.905) (17.25, -9, 1.905) (-17.25, -9, 1.905)
sketch "Sketch18" plane through (0, 0, 2) normal (0, 0, 1) x (1, 0, 0)
  circle A0 centre (0, 13.5) radius 1.3
  circle A1 centre (0, -6.5) radius 1.3
  line L0 (12, 17) -> (-7, 17) projected
  point P0 (0, 0)
  point P1 (12, 11.5)
  dimension "d130" = 2.6
  dimension "d131" = 2.6
  dimension "d132" = 20
  dimension "d133" = 3.5
extrude "Extrusion16" cut sketch "Sketch18" against normal blind 10 bodies 1
sketch "Sketch20" plane through (0, 0, 2) normal (0, 0, 1) x (1, 0, 0)
  line L0 (-7, 11.5) -> (-7, 17) projected
  line L1 (-9, -10) -> (9, -10) projected
  line L2 (-7, 17) -> (7, 17)
  line L3 (7, -10) -> (-7, -10)
  line L4 (7, 11.5) -> (7, 17) projected
  arc A0 (-9.1, -4.81) -> (-9.1, -2.81) centre (-9.1, -3.81) ccw projected
  circle A1 centre (-9.1, -3.81) radius 2.5
  arc A2 (-9.1, 2.8099) -> (-9.1, 4.8099) centre (-9.1, 3.8099) ccw projected
  circle A3 centre (-9.1, 3.8099) radius 2.5
  arc A4 (9.1, -2.81) -> (9.1, -4.81) centre (9.1, -3.81) ccw projected
  circle A5 centre (9.1, -3.81) radius 2.5
  arc A6 (9.1, 4.8099) -> (9.1, 2.8099) centre (9.1, 3.8099) ccw projected
  circle A7 centre (9.1, 3.8099) radius 2.5
  line L5 (7, -5.1665) -> (7, -10)
  line L6 (7, 17) -> (7, 5.1664)
  line L7 (-7, 5.1664) -> (-7, 17)
  line L8 (-7, -10) -> (-7, -5.1665)
  circle A8 centre (0, -6.5) radius 1.3 projected
  circle A9 centre (0, 13.5) radius 1.3 projected
  circle A10 centre (9.1, 0) radius 2.5
  circle A11 centre (-9.1, 0) radius 1 projected
  circle A12 centre (-9.1, 0) radius 2.5
  line L9 (-7, -2.4535) -> (-7, -1.3565)
  line L10 (-7, 1.3565) -> (-7, 2.4535)
  line L11 (7, 2.4535) -> (7, 1.3564)
  line L12 (7, -1.3565) -> (7, -2.4535)
  point P0 (0, 0)
  dimension "d145" = 5
  dimension "d146" = 5
  dimension "d147" = 5
  dimension "d148" = 5
  dimension "d149" = 5
  dimension "d150" = 5
extrude "Extrusion18" add sketch "Sketch20" along normal blind 1 contours L0 L2 L4 L6 A7 L11 A10 L12 A5 L5 L1 L8 A1 L9 A12 L10 A3 L7 bodies 1
sketch "Sketch21" plane through (0, 0, 3.81) normal (0, 0, 1) x (1, 0, 0)
  arc A0 (-15.25, -9) -> (-17.25, -11) centre (-15.25, -11) ccw projected
  line L0 (-17.25, -11) -> (-17.25, -41.5) projected
  arc A1 (-17.25, -41.5) -> (-15.25, -43.5) centre (-15.25, -41.5) ccw projected
  line L1 (-15.25, -43.5) -> (-8.45, -43.5) projected
  line L2 (-8.45, -43.5) -> (-8.45, -41.5) projected
  line L3 (-8.45, -41.5) -> (-15.25, -41.5) projected
  line L4 (-15.25, -41.5) -> (-15.25, -11) projected
  line L5 (-15.25, -11) -> (-9.2, -11) projected
  line L6 (-9.2, -11) -> (-9.2, -9) projected
  line L7 (-9.2, -9) -> (-15.25, -9) projected
  arc A2 (17.25, -11) -> (15.25, -9) centre (15.25, -11) ccw projected
  line L8 (15.25, -9) -> (9.2, -9) projected
  line L9 (9.2, -9) -> (9.2, -11) projected
  line L10 (9.2, -11) -> (15.25, -11) projected
  line L11 (15.25, -11) -> (15.25, -41.5) projected
  line L12 (15.25, -41.5) -> (8.45, -41.5) projected
  line L13 (8.45, -41.5) -> (8.45, -43.5) projected
  line L14 (8.45, -43.5) -> (15.25, -43.5) projected
  arc A3 (15.25, -43.5) -> (17.25, -41.5) centre (15.25, -41.5) ccw projected
  line L15 (17.25, -41.5) -> (17.25, -11) projected
  line L16 (-8.45, -43.5) -> (-8.45, -39) projected
  line L17 (-8.45, -43.5) -> (8.45, -43.5)
  line L18 (7.15, -9) -> (-7.15, -9)
  line L19 (-15.25, -41.5) -> (-15.25, -11) projected
  line L20 (-15.25, -41.5) -> (-15.25, -11)
  line L21 (9.2, -11) -> (15.25, -11) projected
  line L22 (-15.25, -11) -> (15.25, -11)
  line L23 (15.25, -11) -> (15.25, -41.5) projected
  line L24 (15.25, -11) -> (15.25, -41.5)
  line L25 (-15.25, -41.5) -> (15.25, -41.5)
  line L26 (15.25, -9) -> (9.2, -9) projected
  line L27 (12, -9) -> (12, 1)
  line L28 (7.15, 1) -> (7.15, -9)
  line L29 (-7.15, 1) -> (-7.15, -9)
  line L30 (7, 5.1664) -> (7, 17) projected
  line L31 (-7, 17) -> (-7, 5.1664) projected
  line L32 (-12, -4.81) -> (-12, -9) projected
  line L33 (-12, -9) -> (-12, 1)
  line L34 (-12, 1) -> (-7.15, 1)
  line L35 (7.15, 1) -> (12, 1)
  point P0 (0, 0)
  dimension "d161" = 0.15
  dimension "d162" = 0.15
  dimension "d163" = 10
extrude "Extrusion19" add sketch "Sketch21" along normal blind 2 separate body contours L7 L6 L5 L4 L3 L2 L1 A1 L0 A0 | L32 L33 L34 L29 L18 L28 L35 L27 L8 L9 L22 L6 L7 | L9 L8 A2 L15 A3 L14 L13 L12 L11 L10
sketch "Sketch22" plane through (0, 0, 3.81) normal (0, 0, -1) x (-1, 0, 0)
  arc A0 (17.25, -11) -> (15.25, -9) centre (15.25, -11) ccw projected
  line L0 (12, -9) -> (15.25, -9) projected
  line L1 (-7.15, -9) -> (7.15, -9) projected
  line L2 (-15.25, -9) -> (-12, -9) projected
  arc A1 (-15.25, -9) -> (-17.25, -11) centre (-15.25, -11) ccw projected
  line L3 (-17.25, -41.5) -> (-17.25, -11) projected
  arc A2 (-17.25, -41.5) -> (-15.25, -43.5) centre (-15.25, -41.5) ccw projected
  line L4 (-8.45, -43.5) -> (-15.25, -43.5) projected
  line L5 (-8.45, -41.5) -> (-8.45, -43.5) projected
  line L6 (-15.25, -41.5) -> (-8.45, -41.5) projected
  line L7 (15.25, -11) -> (-15.25, -11) projected
  line L8 (15.25, -41.5) -> (15.25, -11) projected
  line L9 (8.45, -41.5) -> (15.25, -41.5) projected
  line L10 (8.45, -43.5) -> (8.45, -41.5) projected
  line L11 (15.25, -43.5) -> (8.45, -43.5) projected
  arc A3 (15.25, -43.5) -> (17.25, -41.5) centre (15.25, -41.5) ccw projected
  line L12 (17.25, -11) -> (17.25, -41.5) projected
  line L13 (7.15, -9) -> (7.15, 1) projected
  line L14 (-7.15, 1) -> (-7.15, -9) projected
  line L15 (-12, -9) -> (-12, 1) projected
  line L16 (-15.25, -11) -> (-15.25, -41.5) projected
  line L17 (-12, -9) -> (-7.15, -9)
  line L18 (12, -9) -> (7.15, -9)
  line L19 (12, 1) -> (12, -9) projected
  line L20 (7.15, 1) -> (12, 1) projected
  line L21 (-12, 1) -> (-7.15, 1) projected
extrude "Extrusion20" add sketch "Sketch22" along normal up to surface (1.81 mm away) bodies 3
sketch "Sketch23" plane through (0, 0, 5.81) normal (0, 0, 1) x (1, 0, 0)
  line L0 (-8.45, -43.5) -> (-8.45, -41.5) projected
  line L1 (-8.45, -41.5) -> (-15.25, -41.5) projected
  line L2 (-15.25, -41.5) -> (-15.25, -11) projected
  line L3 (-15.25, -11) -> (15.25, -11) projected
  line L4 (15.25, -11) -> (15.25, -41.5) projected
  line L5 (15.25, -41.5) -> (8.45, -41.5) projected
  line L6 (8.45, -41.5) -> (8.45, -43.5) projected
  line L7 (8.45, -43.5) -> (15.25, -43.5) projected
  arc A0 (15.25, -43.5) -> (17.25, -41.5) centre (15.25, -41.5) ccw projected
  line L8 (17.25, -41.5) -> (17.25, -11) projected
  arc A1 (17.25, -11) -> (15.25, -9) centre (15.25, -11) ccw projected
  line L9 (15.25, -9) -> (12, -9) projected
  line L10 (12, -9) -> (12, 1) projected
  line L11 (12, 1) -> (7.15, 1) projected
  line L12 (7.15, 1) -> (7.15, -9) projected
  line L13 (7.15, -9) -> (-7.15, -9) projected
  line L14 (-7.15, -9) -> (-7.15, 1) projected
  line L15 (-7.15, 1) -> (-12, 1) projected
  line L16 (-12, 1) -> (-12, -9) projected
  line L17 (-12, -9) -> (-15.25, -9) projected
  arc A2 (-15.25, -9) -> (-17.25, -11) centre (-15.25, -11) ccw projected
  line L18 (-17.25, -11) -> (-17.25, -41.5) projected
  arc A3 (-17.25, -41.5) -> (-15.25, -43.5) centre (-15.25, -41.5) ccw projected
  line L19 (-15.25, -43.5) -> (-8.45, -43.5) projected
  line L20 (-8.45, -43.5) -> (8.45, -43.5)
  line L21 (-12, -9) -> (-12, -4.81) projected
  line L22 (-12, -9) -> (12, -9)
  line L23 (15.25, -9) -> (9.2, -9) projected
  line L24 (-8.45, -41.5) -> (8.45, -41.5)
  point P0 (0, 0)
extrude "Extrusion21" add sketch "Sketch23" along normal blind 5 contours L19 A3 L18 A2 L17 L22 L13 L9 A1 L8 A0 L7 L6 L5 L4 L3 L2 L1 L0 | L0 L24 L6 L20 bodies 3
sketch "Sketch24" plane through (0, 0, 10.81) normal (0, 0, 1) x (1, 0, 0)
  line L0 (15.25, -41.5) -> (-15.25, -41.5) projected
  line L1 (-15.25, -41.5) -> (-15.25, -11) projected
  line L2 (-15.25, -11) -> (15.25, -11) projected
  line L3 (15.25, -11) -> (15.25, -41.5) projected
  line L4 (-15.25, -43.5) -> (15.25, -43.5) projected
  arc A0 (15.25, -43.5) -> (17.25, -41.5) centre (15.25, -41.5) ccw projected
  line L5 (17.25, -41.5) -> (17.25, -11) projected
  arc A1 (17.25, -11) -> (15.25, -9) centre (15.25, -11) ccw projected
  line L6 (15.25, -9) -> (-15.25, -9) projected
  arc A2 (-15.25, -9) -> (-17.25, -11) centre (-15.25, -11) ccw projected
  line L7 (-17.25, -11) -> (-17.25, -41.5) projected
  arc A3 (-17.25, -41.5) -> (-15.25, -43.5) centre (-15.25, -41.5) ccw projected
  point P0 (0, 0)
extrude "Extrusion22" add sketch "Sketch24" along normal blind 2 contours L0 L1 L2 L3 | A3 L7 A2 L6 A1 L5 A0 L4 bodies 3
sketch "Sketch25" plane through (15.25, -11, 2) normal (0, 0, -1) x (-1, 0, 0)
  circle A0 centre (5.25, 7.19) radius 1
  line L0 (6.15, 8.19) -> (3.25, 8.19) projected
  circle A1 centre (25.25, 7.19) radius 1
  line L1 (27.25, 8.19) -> (24.35, 8.19) projected
  line L2 (24.35, 6.19) -> (27.25, 6.19) projected
  line L3 (25.25, 6.19) -> (27.25, 6.19)
  line L4 (27.25, 6.19) -> (27.25, 8.19)
  line L5 (5.25, 8.19) -> (3.25, 8.19)
  line L6 (3.25, 6.19) -> (5.25, 6.19)
  line L7 (3.25, 12) -> (3.25, 2) projected
  line L8 (3.25, 6.19) -> (3.25, 8.19)
  line L9 (25.25, 8.19) -> (27.25, 8.19)
  point P0 (15.25, 11)
  dimension "d168" = 2
  dimension "d169" = 2
  dimension "d170" = 2
  dimension "d171" = 2
extrude "Extrusion23" cut sketch "Sketch25" against normal through all bodies 3
properties part number "Intan_holder_v4"
